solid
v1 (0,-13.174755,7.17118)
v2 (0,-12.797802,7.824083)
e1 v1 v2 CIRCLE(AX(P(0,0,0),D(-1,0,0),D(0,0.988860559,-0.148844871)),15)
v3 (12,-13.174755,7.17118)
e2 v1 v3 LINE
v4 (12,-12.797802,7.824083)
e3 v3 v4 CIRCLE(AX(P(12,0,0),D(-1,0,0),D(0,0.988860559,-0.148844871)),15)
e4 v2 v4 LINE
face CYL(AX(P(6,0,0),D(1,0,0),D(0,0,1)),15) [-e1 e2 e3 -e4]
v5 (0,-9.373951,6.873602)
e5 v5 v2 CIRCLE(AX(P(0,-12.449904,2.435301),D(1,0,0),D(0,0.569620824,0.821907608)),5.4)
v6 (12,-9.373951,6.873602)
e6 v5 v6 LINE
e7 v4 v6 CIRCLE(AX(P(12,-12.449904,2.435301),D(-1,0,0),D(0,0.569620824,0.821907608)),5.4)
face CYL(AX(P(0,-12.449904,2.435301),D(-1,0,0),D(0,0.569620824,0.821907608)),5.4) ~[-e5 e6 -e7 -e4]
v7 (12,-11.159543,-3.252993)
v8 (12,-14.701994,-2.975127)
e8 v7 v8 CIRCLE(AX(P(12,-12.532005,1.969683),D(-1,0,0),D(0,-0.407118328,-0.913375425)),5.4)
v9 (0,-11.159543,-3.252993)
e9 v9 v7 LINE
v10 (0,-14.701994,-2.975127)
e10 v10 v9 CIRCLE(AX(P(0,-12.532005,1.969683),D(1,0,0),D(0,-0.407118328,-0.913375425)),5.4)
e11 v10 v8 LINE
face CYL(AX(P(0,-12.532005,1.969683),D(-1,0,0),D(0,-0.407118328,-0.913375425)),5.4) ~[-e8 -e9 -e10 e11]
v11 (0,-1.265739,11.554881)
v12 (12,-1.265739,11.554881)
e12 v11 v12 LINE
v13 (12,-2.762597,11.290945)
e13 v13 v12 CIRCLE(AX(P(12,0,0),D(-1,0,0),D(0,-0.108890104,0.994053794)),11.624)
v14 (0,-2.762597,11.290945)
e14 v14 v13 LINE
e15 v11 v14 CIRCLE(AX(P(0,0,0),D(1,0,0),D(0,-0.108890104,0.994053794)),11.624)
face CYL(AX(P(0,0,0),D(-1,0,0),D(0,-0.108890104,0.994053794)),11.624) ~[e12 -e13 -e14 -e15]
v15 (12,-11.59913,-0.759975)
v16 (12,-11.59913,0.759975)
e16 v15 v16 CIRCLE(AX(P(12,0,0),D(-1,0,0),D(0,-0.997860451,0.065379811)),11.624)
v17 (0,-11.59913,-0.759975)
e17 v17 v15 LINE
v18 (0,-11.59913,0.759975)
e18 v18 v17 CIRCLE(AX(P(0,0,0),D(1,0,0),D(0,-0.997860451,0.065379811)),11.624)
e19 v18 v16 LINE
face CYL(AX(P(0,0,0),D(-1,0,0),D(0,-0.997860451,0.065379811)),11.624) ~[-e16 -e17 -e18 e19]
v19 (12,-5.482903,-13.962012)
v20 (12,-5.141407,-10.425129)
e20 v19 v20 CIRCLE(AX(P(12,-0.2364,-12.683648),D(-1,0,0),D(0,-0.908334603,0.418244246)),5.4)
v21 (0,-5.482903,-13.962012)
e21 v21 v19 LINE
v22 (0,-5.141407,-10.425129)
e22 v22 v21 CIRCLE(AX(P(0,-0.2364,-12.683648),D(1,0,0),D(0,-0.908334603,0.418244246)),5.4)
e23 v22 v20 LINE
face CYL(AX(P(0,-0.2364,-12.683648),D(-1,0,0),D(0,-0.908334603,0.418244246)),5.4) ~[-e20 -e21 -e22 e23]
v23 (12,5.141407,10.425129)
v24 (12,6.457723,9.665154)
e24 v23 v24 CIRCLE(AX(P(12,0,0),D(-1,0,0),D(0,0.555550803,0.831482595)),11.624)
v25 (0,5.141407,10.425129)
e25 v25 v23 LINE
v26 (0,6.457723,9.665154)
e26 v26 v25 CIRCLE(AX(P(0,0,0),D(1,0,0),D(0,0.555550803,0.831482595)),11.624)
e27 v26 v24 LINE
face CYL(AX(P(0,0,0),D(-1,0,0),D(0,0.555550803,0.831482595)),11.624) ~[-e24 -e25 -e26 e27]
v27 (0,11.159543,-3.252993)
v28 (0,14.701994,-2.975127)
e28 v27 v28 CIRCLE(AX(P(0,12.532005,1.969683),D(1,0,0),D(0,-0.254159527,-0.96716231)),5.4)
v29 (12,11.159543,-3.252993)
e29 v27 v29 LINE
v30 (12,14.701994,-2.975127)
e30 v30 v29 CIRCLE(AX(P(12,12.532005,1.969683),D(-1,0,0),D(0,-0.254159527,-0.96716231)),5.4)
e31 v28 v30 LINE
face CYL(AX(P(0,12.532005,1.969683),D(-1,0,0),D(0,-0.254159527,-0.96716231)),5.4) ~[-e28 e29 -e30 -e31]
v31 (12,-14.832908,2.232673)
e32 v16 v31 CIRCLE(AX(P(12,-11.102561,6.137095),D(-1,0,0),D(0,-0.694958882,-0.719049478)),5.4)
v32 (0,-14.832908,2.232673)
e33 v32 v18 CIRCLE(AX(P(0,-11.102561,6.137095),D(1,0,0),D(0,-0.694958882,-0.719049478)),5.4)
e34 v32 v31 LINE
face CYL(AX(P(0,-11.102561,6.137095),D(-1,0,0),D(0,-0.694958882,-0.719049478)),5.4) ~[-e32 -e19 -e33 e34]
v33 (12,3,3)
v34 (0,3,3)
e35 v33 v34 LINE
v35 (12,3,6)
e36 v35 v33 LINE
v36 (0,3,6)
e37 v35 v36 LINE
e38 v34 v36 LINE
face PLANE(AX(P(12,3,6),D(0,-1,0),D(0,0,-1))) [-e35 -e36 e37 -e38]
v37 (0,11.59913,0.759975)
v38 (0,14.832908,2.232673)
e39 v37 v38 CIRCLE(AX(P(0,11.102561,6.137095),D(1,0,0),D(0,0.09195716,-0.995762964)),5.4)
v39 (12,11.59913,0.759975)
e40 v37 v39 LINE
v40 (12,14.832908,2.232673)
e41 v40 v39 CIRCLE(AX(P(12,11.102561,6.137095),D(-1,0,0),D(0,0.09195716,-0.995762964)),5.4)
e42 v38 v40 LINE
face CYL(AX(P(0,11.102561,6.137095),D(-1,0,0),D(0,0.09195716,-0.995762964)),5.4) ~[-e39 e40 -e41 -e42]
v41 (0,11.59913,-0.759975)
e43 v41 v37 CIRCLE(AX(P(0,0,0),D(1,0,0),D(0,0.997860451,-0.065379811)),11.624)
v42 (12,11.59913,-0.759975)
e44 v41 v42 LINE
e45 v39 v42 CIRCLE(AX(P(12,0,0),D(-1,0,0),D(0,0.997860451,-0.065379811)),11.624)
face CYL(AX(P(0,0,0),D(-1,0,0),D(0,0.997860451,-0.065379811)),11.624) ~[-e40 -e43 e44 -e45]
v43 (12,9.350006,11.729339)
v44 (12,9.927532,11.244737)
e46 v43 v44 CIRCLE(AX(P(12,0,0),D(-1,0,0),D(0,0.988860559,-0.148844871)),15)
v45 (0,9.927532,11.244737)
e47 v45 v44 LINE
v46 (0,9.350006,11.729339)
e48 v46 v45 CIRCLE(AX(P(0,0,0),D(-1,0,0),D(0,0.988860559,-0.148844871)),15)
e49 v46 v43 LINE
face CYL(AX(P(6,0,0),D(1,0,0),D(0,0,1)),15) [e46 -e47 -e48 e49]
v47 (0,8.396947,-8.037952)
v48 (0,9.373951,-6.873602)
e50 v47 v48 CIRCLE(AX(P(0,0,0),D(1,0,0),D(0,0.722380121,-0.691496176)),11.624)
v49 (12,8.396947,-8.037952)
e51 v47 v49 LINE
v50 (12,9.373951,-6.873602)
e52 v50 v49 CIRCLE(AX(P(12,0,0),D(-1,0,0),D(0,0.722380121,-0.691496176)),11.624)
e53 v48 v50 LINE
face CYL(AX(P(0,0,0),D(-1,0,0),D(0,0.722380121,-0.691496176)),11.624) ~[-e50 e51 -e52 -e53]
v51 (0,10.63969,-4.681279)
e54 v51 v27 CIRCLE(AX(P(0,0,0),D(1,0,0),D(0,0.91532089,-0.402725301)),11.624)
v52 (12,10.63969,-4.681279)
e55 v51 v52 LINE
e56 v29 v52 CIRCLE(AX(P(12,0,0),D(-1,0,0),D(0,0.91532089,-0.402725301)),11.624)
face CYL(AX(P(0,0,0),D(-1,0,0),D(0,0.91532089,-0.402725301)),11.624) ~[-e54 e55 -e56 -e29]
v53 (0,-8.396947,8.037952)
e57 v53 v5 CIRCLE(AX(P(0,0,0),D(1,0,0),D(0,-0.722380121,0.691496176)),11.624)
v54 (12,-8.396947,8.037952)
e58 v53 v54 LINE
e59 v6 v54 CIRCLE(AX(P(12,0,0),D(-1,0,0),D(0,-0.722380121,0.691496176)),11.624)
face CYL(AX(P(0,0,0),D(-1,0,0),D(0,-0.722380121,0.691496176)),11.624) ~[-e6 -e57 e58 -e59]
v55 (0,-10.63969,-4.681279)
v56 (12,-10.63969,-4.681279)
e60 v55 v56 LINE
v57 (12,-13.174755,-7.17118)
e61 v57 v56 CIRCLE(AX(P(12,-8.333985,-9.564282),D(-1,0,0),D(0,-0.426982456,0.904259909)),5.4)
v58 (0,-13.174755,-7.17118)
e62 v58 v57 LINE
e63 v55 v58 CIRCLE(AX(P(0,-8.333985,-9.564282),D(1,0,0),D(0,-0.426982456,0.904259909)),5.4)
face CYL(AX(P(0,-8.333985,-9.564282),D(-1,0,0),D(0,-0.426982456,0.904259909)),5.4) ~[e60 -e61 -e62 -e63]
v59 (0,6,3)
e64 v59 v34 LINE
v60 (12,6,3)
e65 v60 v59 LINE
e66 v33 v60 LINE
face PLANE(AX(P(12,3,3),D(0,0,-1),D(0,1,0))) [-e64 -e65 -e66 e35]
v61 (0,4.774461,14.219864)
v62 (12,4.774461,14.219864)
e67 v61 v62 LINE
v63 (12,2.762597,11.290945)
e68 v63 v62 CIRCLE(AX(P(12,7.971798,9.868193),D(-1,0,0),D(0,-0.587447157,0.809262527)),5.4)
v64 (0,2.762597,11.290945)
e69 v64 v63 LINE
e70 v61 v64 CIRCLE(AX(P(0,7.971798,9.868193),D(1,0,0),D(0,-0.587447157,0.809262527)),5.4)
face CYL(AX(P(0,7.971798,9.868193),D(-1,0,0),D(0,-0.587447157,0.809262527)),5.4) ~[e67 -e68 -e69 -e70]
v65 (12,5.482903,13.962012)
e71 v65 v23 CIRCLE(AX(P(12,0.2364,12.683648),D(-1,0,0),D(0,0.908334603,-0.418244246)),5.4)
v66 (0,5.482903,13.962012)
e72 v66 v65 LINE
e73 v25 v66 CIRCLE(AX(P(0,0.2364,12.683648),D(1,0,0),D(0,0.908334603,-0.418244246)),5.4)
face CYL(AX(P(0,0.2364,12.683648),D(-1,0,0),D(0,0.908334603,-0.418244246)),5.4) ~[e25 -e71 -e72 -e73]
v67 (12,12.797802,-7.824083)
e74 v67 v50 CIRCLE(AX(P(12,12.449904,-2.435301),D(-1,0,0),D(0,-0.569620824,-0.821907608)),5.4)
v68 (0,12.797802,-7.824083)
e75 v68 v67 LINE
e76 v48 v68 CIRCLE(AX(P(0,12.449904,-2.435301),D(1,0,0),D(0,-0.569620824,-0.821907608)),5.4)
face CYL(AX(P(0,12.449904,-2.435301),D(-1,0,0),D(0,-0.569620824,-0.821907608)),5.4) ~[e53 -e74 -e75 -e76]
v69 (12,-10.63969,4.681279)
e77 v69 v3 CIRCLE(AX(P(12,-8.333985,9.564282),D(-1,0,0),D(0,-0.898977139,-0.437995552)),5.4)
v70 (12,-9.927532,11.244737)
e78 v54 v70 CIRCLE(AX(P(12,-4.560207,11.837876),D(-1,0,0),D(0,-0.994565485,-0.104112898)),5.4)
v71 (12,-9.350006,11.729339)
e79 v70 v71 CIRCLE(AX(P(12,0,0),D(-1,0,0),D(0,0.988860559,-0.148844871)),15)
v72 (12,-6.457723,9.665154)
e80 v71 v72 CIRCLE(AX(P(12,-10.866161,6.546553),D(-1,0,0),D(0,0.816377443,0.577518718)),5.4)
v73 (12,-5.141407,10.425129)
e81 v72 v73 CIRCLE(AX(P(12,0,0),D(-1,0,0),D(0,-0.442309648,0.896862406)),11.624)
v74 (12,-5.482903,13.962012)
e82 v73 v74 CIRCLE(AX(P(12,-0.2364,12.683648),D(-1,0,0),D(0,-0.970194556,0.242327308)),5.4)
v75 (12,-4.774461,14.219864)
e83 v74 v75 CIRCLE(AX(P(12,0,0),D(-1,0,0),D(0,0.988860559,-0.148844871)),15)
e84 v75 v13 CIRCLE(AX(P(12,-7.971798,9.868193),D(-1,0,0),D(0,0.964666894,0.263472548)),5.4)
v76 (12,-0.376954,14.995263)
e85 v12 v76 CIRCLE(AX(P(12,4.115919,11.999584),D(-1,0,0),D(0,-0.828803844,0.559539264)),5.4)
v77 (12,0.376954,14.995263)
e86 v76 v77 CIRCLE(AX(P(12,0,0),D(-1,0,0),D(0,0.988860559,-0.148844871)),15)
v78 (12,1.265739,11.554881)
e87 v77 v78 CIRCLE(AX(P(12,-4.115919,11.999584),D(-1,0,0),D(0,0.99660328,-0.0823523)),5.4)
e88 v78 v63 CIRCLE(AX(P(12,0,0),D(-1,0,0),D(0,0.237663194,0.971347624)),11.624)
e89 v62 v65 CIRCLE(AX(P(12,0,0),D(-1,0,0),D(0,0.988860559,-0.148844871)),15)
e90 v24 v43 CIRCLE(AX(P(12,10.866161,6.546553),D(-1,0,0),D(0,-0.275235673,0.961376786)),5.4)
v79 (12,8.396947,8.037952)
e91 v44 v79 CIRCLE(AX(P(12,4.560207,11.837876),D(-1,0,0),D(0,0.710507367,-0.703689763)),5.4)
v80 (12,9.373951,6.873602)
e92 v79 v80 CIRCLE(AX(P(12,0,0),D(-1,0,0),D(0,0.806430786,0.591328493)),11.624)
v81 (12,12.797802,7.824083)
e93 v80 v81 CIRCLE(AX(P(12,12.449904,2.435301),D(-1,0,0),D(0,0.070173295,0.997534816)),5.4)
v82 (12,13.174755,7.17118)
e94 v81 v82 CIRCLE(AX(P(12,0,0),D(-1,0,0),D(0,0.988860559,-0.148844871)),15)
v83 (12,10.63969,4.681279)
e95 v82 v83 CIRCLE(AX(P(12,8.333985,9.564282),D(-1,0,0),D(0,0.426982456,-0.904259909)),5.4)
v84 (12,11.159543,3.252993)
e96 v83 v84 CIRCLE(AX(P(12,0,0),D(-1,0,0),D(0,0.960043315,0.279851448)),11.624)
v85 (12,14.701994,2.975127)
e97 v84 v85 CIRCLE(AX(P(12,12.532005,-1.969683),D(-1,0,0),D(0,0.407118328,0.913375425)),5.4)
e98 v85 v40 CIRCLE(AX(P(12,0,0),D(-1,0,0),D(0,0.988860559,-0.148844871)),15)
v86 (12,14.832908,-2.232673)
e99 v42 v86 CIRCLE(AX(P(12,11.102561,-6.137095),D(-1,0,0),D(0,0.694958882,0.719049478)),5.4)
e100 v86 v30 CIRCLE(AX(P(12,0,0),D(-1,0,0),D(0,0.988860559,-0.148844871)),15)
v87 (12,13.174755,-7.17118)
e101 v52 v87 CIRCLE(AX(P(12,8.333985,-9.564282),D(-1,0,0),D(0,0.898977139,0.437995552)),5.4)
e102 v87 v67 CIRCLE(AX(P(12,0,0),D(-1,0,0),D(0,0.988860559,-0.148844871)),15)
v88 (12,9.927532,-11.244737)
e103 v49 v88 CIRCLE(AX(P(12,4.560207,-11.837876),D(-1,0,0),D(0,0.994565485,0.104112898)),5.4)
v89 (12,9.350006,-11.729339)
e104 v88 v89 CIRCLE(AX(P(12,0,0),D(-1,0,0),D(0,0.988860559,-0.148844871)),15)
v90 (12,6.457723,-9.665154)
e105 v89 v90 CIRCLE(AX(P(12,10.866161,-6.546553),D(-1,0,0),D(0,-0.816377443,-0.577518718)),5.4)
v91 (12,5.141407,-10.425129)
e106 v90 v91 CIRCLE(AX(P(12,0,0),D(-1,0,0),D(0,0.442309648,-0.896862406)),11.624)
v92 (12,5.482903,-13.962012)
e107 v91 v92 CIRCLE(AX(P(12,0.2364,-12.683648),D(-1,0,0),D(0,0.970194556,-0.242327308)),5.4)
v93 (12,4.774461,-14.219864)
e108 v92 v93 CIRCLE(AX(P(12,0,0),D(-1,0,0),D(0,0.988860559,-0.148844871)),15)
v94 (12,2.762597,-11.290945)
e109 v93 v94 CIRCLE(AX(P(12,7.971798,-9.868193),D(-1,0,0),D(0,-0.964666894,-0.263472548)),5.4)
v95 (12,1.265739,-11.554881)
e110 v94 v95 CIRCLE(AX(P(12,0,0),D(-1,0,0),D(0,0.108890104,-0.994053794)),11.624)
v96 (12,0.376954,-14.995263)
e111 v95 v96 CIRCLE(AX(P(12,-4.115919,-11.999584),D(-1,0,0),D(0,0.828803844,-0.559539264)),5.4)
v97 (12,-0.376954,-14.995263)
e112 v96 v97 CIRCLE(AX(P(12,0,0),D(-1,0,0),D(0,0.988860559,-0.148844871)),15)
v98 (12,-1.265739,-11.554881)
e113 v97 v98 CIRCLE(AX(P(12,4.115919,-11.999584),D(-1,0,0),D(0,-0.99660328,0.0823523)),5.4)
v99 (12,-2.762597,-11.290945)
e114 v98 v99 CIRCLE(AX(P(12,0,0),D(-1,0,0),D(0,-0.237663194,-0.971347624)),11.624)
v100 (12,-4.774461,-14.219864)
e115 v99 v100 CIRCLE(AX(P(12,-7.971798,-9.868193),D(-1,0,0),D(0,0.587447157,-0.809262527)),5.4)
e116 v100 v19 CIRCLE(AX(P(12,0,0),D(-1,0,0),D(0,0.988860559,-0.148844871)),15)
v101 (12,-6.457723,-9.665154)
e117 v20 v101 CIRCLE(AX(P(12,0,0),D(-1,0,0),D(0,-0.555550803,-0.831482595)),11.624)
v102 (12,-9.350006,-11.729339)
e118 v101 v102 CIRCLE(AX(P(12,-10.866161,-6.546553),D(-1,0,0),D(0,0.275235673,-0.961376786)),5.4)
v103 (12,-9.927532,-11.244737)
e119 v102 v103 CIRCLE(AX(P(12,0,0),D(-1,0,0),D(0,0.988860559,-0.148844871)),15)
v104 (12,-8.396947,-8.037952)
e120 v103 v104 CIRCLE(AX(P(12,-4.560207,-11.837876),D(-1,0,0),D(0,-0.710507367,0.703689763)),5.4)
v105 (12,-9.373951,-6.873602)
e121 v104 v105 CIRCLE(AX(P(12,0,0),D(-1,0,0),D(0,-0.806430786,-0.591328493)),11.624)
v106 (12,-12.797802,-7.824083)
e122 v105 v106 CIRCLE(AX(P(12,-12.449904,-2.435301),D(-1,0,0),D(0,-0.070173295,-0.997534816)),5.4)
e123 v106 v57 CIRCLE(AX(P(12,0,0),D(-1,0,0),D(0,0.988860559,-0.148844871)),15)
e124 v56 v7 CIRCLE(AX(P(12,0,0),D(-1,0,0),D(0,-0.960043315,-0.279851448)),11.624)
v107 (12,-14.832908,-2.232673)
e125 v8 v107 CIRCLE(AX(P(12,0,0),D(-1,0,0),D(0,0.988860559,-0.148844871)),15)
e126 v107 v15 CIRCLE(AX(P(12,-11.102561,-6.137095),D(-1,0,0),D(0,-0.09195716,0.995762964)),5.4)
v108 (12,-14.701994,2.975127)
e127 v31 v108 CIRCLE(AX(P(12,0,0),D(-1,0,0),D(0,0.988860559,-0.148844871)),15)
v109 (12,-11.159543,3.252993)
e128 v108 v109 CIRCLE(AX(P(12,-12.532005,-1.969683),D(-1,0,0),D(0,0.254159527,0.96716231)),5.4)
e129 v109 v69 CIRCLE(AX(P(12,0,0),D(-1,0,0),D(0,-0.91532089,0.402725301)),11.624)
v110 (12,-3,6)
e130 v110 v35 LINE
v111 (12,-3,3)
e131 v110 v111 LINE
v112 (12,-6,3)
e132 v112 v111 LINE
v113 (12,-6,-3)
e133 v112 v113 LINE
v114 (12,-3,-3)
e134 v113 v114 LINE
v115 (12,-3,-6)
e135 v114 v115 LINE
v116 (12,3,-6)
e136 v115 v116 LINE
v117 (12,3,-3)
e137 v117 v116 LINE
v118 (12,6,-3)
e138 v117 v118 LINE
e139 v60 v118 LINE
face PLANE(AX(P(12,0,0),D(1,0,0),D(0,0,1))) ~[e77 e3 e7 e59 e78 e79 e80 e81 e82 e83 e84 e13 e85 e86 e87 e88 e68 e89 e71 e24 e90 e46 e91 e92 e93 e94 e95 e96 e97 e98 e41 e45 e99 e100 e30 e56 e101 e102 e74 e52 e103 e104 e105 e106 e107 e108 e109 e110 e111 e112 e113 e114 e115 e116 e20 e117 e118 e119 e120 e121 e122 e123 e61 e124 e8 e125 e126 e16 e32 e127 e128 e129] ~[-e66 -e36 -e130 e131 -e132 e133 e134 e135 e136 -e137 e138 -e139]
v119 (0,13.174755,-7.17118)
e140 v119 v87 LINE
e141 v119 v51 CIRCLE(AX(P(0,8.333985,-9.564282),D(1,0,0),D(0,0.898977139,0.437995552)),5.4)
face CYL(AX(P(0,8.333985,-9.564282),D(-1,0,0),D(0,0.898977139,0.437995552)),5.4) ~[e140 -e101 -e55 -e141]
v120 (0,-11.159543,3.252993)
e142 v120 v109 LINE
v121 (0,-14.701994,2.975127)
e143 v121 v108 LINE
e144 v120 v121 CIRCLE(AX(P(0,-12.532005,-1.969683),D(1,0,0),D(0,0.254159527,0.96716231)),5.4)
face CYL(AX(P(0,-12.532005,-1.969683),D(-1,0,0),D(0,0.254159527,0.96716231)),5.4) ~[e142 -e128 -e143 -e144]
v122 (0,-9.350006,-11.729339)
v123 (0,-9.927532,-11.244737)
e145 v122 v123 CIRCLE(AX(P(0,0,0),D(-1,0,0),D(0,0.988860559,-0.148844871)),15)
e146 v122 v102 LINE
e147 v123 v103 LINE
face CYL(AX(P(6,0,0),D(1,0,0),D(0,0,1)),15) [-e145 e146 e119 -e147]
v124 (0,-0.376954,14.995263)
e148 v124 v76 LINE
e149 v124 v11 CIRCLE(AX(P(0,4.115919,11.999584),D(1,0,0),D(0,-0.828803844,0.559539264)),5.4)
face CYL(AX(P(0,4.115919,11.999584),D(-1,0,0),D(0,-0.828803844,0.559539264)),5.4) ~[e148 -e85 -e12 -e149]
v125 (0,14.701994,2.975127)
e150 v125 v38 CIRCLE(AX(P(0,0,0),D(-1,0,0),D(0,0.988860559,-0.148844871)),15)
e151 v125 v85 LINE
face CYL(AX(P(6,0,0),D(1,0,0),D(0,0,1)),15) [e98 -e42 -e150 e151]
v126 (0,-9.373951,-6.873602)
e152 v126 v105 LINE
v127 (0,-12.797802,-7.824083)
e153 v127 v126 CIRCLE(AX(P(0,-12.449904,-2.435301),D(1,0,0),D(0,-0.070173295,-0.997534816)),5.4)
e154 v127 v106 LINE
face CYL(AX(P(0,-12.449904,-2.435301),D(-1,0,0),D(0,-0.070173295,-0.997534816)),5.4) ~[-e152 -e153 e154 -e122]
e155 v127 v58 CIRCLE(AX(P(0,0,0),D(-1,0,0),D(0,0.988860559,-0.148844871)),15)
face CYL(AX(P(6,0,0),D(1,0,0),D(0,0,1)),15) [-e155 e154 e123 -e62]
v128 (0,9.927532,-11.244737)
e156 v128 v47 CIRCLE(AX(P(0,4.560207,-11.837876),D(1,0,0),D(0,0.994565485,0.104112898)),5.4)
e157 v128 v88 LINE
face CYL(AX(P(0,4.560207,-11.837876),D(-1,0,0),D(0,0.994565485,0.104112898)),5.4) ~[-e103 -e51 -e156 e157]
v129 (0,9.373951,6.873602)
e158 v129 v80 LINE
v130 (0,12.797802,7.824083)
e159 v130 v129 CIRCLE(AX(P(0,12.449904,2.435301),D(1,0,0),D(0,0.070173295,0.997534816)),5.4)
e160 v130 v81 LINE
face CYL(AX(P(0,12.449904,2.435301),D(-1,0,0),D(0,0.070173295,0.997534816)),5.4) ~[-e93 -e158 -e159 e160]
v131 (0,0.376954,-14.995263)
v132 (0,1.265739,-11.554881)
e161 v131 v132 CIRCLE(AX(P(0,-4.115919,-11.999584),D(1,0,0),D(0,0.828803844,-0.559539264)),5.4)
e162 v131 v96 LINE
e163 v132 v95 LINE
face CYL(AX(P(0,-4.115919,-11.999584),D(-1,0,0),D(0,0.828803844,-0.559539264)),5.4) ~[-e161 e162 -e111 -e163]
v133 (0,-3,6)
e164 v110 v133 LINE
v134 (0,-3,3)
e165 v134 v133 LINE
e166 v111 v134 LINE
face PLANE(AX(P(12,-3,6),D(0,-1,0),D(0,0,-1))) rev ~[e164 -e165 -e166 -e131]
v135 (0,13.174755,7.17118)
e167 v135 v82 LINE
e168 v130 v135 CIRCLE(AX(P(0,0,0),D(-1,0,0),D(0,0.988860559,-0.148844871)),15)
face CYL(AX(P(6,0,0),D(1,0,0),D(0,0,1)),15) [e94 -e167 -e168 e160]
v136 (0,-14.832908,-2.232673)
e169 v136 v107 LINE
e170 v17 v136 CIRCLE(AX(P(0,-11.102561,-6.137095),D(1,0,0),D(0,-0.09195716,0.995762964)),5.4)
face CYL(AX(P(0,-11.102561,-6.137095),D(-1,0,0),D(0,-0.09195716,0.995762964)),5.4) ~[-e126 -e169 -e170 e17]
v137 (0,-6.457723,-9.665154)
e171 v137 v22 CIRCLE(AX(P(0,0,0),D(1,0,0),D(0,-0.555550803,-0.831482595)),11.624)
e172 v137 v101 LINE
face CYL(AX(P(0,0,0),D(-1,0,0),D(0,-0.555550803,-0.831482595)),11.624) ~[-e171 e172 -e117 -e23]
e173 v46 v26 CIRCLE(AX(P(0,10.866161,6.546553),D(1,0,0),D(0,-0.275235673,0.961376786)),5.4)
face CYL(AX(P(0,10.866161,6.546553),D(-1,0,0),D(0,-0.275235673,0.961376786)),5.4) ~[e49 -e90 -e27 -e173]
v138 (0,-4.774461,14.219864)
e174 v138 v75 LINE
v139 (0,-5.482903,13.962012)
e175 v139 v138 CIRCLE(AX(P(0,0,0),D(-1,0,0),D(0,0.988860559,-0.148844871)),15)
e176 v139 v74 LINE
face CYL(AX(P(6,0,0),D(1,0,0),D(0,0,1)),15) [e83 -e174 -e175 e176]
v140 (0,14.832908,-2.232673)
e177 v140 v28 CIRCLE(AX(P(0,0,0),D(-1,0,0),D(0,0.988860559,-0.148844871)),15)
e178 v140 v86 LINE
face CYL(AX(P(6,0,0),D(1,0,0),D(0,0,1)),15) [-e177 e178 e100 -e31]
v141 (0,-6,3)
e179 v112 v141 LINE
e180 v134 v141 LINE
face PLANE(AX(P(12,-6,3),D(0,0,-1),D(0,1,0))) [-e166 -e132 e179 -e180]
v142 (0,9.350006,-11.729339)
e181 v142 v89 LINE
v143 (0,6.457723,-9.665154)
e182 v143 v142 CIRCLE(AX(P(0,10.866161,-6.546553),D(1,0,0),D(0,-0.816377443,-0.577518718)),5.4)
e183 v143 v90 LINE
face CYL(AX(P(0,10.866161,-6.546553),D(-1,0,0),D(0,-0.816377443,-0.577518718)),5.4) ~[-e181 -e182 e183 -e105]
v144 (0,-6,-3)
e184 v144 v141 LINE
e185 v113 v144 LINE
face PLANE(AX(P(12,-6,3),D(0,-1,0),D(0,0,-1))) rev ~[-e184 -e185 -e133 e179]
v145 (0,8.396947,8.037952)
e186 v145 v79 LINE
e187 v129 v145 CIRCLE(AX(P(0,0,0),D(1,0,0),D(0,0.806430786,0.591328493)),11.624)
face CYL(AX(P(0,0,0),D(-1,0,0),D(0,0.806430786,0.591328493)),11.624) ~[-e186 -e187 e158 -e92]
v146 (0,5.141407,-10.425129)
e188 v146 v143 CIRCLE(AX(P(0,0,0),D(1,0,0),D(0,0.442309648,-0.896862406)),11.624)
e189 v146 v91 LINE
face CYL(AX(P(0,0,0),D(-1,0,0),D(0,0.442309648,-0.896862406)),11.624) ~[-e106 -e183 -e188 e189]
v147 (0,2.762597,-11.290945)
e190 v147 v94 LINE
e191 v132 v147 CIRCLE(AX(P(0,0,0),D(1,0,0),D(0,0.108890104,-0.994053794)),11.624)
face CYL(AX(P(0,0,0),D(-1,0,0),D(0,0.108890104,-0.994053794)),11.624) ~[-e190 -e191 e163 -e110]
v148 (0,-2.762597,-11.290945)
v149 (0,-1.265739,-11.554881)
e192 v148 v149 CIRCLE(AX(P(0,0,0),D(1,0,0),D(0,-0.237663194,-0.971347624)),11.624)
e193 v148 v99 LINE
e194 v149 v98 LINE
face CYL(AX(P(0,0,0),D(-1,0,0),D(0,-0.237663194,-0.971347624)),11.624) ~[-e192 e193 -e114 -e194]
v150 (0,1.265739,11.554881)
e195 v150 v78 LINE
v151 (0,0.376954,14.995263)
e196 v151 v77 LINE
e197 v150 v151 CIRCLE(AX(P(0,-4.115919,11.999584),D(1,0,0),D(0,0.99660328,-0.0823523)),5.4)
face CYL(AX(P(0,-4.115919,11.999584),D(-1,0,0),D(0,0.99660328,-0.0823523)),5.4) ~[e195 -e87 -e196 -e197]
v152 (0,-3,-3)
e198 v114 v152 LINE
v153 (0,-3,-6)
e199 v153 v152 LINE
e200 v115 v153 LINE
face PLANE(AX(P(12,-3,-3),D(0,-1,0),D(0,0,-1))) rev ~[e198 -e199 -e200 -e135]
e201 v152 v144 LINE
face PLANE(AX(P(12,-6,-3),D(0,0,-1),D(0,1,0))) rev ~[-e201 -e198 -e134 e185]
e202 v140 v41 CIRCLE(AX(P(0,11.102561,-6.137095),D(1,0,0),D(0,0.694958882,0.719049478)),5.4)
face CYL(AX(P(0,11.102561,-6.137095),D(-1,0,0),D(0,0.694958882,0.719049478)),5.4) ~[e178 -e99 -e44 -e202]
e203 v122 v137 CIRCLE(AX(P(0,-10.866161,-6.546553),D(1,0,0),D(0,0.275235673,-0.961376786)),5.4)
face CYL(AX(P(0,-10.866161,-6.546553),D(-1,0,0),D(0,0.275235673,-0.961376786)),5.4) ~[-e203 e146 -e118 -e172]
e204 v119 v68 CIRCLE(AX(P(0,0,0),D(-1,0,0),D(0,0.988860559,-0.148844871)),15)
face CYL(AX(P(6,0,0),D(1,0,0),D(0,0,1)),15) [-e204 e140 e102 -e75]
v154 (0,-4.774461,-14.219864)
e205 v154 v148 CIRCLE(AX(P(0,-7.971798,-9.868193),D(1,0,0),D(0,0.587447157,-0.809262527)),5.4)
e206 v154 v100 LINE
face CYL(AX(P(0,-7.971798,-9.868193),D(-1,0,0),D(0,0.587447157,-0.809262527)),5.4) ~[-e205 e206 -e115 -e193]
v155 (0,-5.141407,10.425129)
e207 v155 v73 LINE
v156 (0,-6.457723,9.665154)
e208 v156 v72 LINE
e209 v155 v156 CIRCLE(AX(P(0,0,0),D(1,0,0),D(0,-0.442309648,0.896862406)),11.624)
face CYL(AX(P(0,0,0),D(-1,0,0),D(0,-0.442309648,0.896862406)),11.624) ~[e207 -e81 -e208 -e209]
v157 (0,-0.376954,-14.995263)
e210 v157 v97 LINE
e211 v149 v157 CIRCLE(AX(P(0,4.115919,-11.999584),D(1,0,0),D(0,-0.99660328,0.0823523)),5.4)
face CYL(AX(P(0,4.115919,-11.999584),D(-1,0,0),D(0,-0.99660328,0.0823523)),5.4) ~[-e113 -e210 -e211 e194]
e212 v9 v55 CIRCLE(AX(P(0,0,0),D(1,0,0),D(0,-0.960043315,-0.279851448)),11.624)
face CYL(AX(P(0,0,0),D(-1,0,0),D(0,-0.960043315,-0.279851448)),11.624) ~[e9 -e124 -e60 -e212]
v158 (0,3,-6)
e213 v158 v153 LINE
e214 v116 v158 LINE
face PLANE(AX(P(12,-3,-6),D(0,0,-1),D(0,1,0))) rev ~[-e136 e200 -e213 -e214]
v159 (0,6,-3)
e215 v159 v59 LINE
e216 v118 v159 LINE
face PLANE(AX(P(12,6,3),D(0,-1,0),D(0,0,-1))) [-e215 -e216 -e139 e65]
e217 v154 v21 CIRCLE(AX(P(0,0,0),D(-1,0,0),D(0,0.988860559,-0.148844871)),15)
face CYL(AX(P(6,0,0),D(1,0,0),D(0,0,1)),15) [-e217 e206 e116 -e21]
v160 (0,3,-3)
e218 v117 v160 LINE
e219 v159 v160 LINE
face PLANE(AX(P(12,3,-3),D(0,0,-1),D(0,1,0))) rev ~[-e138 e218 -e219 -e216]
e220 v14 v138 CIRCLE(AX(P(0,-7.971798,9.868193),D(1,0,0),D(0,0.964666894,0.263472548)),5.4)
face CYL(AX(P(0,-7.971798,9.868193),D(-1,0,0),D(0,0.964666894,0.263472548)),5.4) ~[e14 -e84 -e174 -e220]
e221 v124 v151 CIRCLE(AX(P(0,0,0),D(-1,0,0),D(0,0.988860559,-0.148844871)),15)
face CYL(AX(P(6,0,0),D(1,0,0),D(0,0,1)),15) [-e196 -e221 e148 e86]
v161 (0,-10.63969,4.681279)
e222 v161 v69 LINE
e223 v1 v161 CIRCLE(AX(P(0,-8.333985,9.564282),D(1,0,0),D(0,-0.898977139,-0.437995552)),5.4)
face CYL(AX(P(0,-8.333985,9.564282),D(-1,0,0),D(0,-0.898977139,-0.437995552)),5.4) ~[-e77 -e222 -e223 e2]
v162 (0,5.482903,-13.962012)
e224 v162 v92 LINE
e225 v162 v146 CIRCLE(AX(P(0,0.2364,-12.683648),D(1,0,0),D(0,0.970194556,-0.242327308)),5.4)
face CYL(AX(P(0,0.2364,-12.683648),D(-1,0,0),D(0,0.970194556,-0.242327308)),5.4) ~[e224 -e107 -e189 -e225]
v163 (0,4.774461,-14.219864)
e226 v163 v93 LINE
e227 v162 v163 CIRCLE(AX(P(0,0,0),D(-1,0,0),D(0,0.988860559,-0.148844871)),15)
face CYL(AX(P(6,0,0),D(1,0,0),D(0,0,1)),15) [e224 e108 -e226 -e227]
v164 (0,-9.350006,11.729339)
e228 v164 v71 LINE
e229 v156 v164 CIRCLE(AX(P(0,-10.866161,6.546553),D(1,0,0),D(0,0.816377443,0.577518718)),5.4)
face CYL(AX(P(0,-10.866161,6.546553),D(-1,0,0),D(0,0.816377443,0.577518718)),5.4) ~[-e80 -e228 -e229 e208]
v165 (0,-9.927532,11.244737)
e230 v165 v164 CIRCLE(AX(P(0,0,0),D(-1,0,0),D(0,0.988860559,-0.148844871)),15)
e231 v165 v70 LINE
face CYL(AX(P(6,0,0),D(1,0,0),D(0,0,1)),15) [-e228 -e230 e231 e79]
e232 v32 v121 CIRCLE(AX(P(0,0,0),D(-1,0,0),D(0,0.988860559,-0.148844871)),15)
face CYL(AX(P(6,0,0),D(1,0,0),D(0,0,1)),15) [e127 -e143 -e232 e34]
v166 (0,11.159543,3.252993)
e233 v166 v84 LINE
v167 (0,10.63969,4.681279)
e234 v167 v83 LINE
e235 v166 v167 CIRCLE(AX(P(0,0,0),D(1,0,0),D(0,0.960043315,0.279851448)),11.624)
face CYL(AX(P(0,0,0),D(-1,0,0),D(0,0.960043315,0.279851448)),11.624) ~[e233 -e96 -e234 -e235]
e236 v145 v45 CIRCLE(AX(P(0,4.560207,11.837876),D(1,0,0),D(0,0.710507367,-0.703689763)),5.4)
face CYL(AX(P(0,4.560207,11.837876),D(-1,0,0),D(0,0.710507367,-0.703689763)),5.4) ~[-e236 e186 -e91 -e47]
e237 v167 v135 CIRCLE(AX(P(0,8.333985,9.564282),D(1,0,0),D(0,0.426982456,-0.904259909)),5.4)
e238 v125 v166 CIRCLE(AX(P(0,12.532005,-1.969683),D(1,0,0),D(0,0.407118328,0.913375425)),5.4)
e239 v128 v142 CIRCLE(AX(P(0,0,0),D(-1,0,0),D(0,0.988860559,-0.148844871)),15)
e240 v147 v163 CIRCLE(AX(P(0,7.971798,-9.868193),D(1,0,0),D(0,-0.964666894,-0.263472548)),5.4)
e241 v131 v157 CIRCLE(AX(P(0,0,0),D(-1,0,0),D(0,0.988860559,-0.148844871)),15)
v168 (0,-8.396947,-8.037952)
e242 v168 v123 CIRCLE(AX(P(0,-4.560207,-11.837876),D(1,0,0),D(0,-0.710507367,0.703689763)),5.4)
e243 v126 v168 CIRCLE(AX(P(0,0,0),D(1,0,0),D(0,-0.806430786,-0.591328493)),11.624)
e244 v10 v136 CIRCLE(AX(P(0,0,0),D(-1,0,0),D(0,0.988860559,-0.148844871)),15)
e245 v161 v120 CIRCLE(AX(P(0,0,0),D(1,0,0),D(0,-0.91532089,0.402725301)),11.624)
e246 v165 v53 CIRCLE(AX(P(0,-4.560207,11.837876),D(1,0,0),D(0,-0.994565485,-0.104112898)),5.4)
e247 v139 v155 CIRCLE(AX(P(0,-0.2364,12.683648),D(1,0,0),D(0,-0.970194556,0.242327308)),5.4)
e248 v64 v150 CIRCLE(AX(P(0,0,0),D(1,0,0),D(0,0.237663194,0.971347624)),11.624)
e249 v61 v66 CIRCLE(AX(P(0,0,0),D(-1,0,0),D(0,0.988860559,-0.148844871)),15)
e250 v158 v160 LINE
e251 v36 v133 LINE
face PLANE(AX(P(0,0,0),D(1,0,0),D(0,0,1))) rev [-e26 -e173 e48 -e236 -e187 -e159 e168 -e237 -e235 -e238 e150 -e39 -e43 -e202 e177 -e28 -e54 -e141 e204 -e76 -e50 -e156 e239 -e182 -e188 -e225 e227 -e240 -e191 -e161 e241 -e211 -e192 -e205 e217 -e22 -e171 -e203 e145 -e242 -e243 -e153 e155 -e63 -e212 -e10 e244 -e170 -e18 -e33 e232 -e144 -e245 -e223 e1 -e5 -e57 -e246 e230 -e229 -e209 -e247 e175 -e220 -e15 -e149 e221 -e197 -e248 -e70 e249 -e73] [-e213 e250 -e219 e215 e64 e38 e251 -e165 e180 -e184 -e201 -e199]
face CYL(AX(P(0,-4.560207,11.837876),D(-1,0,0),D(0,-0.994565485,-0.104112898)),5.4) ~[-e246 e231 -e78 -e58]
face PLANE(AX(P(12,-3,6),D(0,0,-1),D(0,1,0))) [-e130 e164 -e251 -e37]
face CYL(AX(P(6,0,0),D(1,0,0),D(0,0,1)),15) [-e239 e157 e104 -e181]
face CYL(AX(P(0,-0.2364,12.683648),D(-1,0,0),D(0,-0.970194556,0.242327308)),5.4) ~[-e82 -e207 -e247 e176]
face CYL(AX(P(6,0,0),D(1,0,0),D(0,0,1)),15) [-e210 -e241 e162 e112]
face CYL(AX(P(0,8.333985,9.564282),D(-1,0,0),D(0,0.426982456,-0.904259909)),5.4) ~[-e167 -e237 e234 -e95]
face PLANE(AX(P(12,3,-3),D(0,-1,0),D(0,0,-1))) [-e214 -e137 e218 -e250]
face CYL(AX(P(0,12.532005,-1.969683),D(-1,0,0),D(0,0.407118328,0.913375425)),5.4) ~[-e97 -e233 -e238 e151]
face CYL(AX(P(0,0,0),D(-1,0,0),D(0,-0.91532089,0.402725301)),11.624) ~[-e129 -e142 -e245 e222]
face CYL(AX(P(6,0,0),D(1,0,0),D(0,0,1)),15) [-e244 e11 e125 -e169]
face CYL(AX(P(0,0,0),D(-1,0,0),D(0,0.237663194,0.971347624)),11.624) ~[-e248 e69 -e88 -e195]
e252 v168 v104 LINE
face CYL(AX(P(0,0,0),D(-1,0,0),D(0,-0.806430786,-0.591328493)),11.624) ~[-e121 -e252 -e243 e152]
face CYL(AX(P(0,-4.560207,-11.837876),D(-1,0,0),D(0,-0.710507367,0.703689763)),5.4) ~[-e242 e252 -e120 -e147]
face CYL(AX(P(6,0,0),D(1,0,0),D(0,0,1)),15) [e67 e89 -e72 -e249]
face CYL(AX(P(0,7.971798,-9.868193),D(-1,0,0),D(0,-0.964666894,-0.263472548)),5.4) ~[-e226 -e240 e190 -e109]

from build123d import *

# Parameters (mm, degrees)
BASPROSKE_W        = 12
BASPROSKE_H        = 15
TOOTHCUT_DEPTH     = 25.372115214
TEETHCUTS_COUNT    = 18
TEETHCUTS_ANGLE    = 340
BORSKE_R           = 2
BORE_DEPTH         = 50.0000508
SKETCH2_W          = 3
SKETCH2_H          = 6
SKETCH2_W_2        = 6
SKETCH2_H_2        = 3
CUT_EXTRUDE2_DEPTH = 16


with BuildPart() as part:
    # BasProSke → Base-Revolve (revolve)
    with BuildSketch(Plane(origin=(0, 0, 0), x_dir=(1, 0, 0), z_dir=(0, 1, 0)), mode=Mode.PRIVATE) as base_revolve_sk:
        with Locations((6, 7.5)):
            Rectangle(BASPROSKE_W, BASPROSKE_H)
    revolve(base_revolve_sk.sketch.rotate(Axis((-10, 0, 0), (1, 0, 0)), 180), axis=Axis((-10, 0, 0), (1, 0, 0)))

    # TooCutSke → ToothCut (cut, through all)
    with BuildSketch(Plane(origin=(0, 0, 0), x_dir=(0, 0, -1), z_dir=(1, 0, 0))):
        with BuildLine():
            ThreePointArc((0.759974923, 11.599129886), (0, 11.624), (-0.759974923, 11.599129886))
            ThreePointArc((-0.759974923, 11.599129886), (-1.229186471, 13.354767823), (-2.254227748, 14.855339189))
            ThreePointArc((-2.254227748, 14.855339189), (0, 15.0254), (2.254227748, 14.855339189))
            ThreePointArc((2.254227748, 14.855339189), (1.229186471, 13.354767823), (0.759974923, 11.599129886))
        make_face()
    toothcut = extrude(amount=TOOTHCUT_DEPTH, mode=Mode.SUBTRACT)

    # TeethCuts: ToothCut ×18 about axis
    teethcuts_axis = Axis((-10, 0, 0), (1, 0, 0))
    for i in range(1, TEETHCUTS_COUNT):
        add(toothcut.rotate(teethcuts_axis, i * TEETHCUTS_ANGLE / (TEETHCUTS_COUNT - 1)), mode=Mode.SUBTRACT)

    # BorSke → Bore (cut, symmetric)
    with BuildSketch(Plane(origin=(0, 0, 0), x_dir=(0, 0, -1), z_dir=(1, 0, 0))):
        with Locations(Location((0, 0, 0), (0, 0, 180))):
            Circle(BORSKE_R)
    extrude(amount=BORE_DEPTH, both=True, mode=Mode.SUBTRACT)

    # Sketch2 → Cut-Extrude2 (cut)
    with BuildSketch(Plane(origin=(12, 0, 0), x_dir=(0, 0, -1), z_dir=(1, 0, 0))):
        with Locations((-4.5, 0)):
            Rectangle(SKETCH2_W, SKETCH2_H)
        with Locations((0, 4.5)):
            Rectangle(SKETCH2_W_2, SKETCH2_H_2)
        Rectangle(SKETCH2_W_2, SKETCH2_H)
        with Locations((4.5, 0)):
            Rectangle(SKETCH2_W, SKETCH2_H)
        with Locations((0, -4.5)):
            Rectangle(SKETCH2_W_2, SKETCH2_H_2)
    extrude(amount=-CUT_EXTRUDE2_DEPTH, mode=Mode.SUBTRACT)


solid = part.part
